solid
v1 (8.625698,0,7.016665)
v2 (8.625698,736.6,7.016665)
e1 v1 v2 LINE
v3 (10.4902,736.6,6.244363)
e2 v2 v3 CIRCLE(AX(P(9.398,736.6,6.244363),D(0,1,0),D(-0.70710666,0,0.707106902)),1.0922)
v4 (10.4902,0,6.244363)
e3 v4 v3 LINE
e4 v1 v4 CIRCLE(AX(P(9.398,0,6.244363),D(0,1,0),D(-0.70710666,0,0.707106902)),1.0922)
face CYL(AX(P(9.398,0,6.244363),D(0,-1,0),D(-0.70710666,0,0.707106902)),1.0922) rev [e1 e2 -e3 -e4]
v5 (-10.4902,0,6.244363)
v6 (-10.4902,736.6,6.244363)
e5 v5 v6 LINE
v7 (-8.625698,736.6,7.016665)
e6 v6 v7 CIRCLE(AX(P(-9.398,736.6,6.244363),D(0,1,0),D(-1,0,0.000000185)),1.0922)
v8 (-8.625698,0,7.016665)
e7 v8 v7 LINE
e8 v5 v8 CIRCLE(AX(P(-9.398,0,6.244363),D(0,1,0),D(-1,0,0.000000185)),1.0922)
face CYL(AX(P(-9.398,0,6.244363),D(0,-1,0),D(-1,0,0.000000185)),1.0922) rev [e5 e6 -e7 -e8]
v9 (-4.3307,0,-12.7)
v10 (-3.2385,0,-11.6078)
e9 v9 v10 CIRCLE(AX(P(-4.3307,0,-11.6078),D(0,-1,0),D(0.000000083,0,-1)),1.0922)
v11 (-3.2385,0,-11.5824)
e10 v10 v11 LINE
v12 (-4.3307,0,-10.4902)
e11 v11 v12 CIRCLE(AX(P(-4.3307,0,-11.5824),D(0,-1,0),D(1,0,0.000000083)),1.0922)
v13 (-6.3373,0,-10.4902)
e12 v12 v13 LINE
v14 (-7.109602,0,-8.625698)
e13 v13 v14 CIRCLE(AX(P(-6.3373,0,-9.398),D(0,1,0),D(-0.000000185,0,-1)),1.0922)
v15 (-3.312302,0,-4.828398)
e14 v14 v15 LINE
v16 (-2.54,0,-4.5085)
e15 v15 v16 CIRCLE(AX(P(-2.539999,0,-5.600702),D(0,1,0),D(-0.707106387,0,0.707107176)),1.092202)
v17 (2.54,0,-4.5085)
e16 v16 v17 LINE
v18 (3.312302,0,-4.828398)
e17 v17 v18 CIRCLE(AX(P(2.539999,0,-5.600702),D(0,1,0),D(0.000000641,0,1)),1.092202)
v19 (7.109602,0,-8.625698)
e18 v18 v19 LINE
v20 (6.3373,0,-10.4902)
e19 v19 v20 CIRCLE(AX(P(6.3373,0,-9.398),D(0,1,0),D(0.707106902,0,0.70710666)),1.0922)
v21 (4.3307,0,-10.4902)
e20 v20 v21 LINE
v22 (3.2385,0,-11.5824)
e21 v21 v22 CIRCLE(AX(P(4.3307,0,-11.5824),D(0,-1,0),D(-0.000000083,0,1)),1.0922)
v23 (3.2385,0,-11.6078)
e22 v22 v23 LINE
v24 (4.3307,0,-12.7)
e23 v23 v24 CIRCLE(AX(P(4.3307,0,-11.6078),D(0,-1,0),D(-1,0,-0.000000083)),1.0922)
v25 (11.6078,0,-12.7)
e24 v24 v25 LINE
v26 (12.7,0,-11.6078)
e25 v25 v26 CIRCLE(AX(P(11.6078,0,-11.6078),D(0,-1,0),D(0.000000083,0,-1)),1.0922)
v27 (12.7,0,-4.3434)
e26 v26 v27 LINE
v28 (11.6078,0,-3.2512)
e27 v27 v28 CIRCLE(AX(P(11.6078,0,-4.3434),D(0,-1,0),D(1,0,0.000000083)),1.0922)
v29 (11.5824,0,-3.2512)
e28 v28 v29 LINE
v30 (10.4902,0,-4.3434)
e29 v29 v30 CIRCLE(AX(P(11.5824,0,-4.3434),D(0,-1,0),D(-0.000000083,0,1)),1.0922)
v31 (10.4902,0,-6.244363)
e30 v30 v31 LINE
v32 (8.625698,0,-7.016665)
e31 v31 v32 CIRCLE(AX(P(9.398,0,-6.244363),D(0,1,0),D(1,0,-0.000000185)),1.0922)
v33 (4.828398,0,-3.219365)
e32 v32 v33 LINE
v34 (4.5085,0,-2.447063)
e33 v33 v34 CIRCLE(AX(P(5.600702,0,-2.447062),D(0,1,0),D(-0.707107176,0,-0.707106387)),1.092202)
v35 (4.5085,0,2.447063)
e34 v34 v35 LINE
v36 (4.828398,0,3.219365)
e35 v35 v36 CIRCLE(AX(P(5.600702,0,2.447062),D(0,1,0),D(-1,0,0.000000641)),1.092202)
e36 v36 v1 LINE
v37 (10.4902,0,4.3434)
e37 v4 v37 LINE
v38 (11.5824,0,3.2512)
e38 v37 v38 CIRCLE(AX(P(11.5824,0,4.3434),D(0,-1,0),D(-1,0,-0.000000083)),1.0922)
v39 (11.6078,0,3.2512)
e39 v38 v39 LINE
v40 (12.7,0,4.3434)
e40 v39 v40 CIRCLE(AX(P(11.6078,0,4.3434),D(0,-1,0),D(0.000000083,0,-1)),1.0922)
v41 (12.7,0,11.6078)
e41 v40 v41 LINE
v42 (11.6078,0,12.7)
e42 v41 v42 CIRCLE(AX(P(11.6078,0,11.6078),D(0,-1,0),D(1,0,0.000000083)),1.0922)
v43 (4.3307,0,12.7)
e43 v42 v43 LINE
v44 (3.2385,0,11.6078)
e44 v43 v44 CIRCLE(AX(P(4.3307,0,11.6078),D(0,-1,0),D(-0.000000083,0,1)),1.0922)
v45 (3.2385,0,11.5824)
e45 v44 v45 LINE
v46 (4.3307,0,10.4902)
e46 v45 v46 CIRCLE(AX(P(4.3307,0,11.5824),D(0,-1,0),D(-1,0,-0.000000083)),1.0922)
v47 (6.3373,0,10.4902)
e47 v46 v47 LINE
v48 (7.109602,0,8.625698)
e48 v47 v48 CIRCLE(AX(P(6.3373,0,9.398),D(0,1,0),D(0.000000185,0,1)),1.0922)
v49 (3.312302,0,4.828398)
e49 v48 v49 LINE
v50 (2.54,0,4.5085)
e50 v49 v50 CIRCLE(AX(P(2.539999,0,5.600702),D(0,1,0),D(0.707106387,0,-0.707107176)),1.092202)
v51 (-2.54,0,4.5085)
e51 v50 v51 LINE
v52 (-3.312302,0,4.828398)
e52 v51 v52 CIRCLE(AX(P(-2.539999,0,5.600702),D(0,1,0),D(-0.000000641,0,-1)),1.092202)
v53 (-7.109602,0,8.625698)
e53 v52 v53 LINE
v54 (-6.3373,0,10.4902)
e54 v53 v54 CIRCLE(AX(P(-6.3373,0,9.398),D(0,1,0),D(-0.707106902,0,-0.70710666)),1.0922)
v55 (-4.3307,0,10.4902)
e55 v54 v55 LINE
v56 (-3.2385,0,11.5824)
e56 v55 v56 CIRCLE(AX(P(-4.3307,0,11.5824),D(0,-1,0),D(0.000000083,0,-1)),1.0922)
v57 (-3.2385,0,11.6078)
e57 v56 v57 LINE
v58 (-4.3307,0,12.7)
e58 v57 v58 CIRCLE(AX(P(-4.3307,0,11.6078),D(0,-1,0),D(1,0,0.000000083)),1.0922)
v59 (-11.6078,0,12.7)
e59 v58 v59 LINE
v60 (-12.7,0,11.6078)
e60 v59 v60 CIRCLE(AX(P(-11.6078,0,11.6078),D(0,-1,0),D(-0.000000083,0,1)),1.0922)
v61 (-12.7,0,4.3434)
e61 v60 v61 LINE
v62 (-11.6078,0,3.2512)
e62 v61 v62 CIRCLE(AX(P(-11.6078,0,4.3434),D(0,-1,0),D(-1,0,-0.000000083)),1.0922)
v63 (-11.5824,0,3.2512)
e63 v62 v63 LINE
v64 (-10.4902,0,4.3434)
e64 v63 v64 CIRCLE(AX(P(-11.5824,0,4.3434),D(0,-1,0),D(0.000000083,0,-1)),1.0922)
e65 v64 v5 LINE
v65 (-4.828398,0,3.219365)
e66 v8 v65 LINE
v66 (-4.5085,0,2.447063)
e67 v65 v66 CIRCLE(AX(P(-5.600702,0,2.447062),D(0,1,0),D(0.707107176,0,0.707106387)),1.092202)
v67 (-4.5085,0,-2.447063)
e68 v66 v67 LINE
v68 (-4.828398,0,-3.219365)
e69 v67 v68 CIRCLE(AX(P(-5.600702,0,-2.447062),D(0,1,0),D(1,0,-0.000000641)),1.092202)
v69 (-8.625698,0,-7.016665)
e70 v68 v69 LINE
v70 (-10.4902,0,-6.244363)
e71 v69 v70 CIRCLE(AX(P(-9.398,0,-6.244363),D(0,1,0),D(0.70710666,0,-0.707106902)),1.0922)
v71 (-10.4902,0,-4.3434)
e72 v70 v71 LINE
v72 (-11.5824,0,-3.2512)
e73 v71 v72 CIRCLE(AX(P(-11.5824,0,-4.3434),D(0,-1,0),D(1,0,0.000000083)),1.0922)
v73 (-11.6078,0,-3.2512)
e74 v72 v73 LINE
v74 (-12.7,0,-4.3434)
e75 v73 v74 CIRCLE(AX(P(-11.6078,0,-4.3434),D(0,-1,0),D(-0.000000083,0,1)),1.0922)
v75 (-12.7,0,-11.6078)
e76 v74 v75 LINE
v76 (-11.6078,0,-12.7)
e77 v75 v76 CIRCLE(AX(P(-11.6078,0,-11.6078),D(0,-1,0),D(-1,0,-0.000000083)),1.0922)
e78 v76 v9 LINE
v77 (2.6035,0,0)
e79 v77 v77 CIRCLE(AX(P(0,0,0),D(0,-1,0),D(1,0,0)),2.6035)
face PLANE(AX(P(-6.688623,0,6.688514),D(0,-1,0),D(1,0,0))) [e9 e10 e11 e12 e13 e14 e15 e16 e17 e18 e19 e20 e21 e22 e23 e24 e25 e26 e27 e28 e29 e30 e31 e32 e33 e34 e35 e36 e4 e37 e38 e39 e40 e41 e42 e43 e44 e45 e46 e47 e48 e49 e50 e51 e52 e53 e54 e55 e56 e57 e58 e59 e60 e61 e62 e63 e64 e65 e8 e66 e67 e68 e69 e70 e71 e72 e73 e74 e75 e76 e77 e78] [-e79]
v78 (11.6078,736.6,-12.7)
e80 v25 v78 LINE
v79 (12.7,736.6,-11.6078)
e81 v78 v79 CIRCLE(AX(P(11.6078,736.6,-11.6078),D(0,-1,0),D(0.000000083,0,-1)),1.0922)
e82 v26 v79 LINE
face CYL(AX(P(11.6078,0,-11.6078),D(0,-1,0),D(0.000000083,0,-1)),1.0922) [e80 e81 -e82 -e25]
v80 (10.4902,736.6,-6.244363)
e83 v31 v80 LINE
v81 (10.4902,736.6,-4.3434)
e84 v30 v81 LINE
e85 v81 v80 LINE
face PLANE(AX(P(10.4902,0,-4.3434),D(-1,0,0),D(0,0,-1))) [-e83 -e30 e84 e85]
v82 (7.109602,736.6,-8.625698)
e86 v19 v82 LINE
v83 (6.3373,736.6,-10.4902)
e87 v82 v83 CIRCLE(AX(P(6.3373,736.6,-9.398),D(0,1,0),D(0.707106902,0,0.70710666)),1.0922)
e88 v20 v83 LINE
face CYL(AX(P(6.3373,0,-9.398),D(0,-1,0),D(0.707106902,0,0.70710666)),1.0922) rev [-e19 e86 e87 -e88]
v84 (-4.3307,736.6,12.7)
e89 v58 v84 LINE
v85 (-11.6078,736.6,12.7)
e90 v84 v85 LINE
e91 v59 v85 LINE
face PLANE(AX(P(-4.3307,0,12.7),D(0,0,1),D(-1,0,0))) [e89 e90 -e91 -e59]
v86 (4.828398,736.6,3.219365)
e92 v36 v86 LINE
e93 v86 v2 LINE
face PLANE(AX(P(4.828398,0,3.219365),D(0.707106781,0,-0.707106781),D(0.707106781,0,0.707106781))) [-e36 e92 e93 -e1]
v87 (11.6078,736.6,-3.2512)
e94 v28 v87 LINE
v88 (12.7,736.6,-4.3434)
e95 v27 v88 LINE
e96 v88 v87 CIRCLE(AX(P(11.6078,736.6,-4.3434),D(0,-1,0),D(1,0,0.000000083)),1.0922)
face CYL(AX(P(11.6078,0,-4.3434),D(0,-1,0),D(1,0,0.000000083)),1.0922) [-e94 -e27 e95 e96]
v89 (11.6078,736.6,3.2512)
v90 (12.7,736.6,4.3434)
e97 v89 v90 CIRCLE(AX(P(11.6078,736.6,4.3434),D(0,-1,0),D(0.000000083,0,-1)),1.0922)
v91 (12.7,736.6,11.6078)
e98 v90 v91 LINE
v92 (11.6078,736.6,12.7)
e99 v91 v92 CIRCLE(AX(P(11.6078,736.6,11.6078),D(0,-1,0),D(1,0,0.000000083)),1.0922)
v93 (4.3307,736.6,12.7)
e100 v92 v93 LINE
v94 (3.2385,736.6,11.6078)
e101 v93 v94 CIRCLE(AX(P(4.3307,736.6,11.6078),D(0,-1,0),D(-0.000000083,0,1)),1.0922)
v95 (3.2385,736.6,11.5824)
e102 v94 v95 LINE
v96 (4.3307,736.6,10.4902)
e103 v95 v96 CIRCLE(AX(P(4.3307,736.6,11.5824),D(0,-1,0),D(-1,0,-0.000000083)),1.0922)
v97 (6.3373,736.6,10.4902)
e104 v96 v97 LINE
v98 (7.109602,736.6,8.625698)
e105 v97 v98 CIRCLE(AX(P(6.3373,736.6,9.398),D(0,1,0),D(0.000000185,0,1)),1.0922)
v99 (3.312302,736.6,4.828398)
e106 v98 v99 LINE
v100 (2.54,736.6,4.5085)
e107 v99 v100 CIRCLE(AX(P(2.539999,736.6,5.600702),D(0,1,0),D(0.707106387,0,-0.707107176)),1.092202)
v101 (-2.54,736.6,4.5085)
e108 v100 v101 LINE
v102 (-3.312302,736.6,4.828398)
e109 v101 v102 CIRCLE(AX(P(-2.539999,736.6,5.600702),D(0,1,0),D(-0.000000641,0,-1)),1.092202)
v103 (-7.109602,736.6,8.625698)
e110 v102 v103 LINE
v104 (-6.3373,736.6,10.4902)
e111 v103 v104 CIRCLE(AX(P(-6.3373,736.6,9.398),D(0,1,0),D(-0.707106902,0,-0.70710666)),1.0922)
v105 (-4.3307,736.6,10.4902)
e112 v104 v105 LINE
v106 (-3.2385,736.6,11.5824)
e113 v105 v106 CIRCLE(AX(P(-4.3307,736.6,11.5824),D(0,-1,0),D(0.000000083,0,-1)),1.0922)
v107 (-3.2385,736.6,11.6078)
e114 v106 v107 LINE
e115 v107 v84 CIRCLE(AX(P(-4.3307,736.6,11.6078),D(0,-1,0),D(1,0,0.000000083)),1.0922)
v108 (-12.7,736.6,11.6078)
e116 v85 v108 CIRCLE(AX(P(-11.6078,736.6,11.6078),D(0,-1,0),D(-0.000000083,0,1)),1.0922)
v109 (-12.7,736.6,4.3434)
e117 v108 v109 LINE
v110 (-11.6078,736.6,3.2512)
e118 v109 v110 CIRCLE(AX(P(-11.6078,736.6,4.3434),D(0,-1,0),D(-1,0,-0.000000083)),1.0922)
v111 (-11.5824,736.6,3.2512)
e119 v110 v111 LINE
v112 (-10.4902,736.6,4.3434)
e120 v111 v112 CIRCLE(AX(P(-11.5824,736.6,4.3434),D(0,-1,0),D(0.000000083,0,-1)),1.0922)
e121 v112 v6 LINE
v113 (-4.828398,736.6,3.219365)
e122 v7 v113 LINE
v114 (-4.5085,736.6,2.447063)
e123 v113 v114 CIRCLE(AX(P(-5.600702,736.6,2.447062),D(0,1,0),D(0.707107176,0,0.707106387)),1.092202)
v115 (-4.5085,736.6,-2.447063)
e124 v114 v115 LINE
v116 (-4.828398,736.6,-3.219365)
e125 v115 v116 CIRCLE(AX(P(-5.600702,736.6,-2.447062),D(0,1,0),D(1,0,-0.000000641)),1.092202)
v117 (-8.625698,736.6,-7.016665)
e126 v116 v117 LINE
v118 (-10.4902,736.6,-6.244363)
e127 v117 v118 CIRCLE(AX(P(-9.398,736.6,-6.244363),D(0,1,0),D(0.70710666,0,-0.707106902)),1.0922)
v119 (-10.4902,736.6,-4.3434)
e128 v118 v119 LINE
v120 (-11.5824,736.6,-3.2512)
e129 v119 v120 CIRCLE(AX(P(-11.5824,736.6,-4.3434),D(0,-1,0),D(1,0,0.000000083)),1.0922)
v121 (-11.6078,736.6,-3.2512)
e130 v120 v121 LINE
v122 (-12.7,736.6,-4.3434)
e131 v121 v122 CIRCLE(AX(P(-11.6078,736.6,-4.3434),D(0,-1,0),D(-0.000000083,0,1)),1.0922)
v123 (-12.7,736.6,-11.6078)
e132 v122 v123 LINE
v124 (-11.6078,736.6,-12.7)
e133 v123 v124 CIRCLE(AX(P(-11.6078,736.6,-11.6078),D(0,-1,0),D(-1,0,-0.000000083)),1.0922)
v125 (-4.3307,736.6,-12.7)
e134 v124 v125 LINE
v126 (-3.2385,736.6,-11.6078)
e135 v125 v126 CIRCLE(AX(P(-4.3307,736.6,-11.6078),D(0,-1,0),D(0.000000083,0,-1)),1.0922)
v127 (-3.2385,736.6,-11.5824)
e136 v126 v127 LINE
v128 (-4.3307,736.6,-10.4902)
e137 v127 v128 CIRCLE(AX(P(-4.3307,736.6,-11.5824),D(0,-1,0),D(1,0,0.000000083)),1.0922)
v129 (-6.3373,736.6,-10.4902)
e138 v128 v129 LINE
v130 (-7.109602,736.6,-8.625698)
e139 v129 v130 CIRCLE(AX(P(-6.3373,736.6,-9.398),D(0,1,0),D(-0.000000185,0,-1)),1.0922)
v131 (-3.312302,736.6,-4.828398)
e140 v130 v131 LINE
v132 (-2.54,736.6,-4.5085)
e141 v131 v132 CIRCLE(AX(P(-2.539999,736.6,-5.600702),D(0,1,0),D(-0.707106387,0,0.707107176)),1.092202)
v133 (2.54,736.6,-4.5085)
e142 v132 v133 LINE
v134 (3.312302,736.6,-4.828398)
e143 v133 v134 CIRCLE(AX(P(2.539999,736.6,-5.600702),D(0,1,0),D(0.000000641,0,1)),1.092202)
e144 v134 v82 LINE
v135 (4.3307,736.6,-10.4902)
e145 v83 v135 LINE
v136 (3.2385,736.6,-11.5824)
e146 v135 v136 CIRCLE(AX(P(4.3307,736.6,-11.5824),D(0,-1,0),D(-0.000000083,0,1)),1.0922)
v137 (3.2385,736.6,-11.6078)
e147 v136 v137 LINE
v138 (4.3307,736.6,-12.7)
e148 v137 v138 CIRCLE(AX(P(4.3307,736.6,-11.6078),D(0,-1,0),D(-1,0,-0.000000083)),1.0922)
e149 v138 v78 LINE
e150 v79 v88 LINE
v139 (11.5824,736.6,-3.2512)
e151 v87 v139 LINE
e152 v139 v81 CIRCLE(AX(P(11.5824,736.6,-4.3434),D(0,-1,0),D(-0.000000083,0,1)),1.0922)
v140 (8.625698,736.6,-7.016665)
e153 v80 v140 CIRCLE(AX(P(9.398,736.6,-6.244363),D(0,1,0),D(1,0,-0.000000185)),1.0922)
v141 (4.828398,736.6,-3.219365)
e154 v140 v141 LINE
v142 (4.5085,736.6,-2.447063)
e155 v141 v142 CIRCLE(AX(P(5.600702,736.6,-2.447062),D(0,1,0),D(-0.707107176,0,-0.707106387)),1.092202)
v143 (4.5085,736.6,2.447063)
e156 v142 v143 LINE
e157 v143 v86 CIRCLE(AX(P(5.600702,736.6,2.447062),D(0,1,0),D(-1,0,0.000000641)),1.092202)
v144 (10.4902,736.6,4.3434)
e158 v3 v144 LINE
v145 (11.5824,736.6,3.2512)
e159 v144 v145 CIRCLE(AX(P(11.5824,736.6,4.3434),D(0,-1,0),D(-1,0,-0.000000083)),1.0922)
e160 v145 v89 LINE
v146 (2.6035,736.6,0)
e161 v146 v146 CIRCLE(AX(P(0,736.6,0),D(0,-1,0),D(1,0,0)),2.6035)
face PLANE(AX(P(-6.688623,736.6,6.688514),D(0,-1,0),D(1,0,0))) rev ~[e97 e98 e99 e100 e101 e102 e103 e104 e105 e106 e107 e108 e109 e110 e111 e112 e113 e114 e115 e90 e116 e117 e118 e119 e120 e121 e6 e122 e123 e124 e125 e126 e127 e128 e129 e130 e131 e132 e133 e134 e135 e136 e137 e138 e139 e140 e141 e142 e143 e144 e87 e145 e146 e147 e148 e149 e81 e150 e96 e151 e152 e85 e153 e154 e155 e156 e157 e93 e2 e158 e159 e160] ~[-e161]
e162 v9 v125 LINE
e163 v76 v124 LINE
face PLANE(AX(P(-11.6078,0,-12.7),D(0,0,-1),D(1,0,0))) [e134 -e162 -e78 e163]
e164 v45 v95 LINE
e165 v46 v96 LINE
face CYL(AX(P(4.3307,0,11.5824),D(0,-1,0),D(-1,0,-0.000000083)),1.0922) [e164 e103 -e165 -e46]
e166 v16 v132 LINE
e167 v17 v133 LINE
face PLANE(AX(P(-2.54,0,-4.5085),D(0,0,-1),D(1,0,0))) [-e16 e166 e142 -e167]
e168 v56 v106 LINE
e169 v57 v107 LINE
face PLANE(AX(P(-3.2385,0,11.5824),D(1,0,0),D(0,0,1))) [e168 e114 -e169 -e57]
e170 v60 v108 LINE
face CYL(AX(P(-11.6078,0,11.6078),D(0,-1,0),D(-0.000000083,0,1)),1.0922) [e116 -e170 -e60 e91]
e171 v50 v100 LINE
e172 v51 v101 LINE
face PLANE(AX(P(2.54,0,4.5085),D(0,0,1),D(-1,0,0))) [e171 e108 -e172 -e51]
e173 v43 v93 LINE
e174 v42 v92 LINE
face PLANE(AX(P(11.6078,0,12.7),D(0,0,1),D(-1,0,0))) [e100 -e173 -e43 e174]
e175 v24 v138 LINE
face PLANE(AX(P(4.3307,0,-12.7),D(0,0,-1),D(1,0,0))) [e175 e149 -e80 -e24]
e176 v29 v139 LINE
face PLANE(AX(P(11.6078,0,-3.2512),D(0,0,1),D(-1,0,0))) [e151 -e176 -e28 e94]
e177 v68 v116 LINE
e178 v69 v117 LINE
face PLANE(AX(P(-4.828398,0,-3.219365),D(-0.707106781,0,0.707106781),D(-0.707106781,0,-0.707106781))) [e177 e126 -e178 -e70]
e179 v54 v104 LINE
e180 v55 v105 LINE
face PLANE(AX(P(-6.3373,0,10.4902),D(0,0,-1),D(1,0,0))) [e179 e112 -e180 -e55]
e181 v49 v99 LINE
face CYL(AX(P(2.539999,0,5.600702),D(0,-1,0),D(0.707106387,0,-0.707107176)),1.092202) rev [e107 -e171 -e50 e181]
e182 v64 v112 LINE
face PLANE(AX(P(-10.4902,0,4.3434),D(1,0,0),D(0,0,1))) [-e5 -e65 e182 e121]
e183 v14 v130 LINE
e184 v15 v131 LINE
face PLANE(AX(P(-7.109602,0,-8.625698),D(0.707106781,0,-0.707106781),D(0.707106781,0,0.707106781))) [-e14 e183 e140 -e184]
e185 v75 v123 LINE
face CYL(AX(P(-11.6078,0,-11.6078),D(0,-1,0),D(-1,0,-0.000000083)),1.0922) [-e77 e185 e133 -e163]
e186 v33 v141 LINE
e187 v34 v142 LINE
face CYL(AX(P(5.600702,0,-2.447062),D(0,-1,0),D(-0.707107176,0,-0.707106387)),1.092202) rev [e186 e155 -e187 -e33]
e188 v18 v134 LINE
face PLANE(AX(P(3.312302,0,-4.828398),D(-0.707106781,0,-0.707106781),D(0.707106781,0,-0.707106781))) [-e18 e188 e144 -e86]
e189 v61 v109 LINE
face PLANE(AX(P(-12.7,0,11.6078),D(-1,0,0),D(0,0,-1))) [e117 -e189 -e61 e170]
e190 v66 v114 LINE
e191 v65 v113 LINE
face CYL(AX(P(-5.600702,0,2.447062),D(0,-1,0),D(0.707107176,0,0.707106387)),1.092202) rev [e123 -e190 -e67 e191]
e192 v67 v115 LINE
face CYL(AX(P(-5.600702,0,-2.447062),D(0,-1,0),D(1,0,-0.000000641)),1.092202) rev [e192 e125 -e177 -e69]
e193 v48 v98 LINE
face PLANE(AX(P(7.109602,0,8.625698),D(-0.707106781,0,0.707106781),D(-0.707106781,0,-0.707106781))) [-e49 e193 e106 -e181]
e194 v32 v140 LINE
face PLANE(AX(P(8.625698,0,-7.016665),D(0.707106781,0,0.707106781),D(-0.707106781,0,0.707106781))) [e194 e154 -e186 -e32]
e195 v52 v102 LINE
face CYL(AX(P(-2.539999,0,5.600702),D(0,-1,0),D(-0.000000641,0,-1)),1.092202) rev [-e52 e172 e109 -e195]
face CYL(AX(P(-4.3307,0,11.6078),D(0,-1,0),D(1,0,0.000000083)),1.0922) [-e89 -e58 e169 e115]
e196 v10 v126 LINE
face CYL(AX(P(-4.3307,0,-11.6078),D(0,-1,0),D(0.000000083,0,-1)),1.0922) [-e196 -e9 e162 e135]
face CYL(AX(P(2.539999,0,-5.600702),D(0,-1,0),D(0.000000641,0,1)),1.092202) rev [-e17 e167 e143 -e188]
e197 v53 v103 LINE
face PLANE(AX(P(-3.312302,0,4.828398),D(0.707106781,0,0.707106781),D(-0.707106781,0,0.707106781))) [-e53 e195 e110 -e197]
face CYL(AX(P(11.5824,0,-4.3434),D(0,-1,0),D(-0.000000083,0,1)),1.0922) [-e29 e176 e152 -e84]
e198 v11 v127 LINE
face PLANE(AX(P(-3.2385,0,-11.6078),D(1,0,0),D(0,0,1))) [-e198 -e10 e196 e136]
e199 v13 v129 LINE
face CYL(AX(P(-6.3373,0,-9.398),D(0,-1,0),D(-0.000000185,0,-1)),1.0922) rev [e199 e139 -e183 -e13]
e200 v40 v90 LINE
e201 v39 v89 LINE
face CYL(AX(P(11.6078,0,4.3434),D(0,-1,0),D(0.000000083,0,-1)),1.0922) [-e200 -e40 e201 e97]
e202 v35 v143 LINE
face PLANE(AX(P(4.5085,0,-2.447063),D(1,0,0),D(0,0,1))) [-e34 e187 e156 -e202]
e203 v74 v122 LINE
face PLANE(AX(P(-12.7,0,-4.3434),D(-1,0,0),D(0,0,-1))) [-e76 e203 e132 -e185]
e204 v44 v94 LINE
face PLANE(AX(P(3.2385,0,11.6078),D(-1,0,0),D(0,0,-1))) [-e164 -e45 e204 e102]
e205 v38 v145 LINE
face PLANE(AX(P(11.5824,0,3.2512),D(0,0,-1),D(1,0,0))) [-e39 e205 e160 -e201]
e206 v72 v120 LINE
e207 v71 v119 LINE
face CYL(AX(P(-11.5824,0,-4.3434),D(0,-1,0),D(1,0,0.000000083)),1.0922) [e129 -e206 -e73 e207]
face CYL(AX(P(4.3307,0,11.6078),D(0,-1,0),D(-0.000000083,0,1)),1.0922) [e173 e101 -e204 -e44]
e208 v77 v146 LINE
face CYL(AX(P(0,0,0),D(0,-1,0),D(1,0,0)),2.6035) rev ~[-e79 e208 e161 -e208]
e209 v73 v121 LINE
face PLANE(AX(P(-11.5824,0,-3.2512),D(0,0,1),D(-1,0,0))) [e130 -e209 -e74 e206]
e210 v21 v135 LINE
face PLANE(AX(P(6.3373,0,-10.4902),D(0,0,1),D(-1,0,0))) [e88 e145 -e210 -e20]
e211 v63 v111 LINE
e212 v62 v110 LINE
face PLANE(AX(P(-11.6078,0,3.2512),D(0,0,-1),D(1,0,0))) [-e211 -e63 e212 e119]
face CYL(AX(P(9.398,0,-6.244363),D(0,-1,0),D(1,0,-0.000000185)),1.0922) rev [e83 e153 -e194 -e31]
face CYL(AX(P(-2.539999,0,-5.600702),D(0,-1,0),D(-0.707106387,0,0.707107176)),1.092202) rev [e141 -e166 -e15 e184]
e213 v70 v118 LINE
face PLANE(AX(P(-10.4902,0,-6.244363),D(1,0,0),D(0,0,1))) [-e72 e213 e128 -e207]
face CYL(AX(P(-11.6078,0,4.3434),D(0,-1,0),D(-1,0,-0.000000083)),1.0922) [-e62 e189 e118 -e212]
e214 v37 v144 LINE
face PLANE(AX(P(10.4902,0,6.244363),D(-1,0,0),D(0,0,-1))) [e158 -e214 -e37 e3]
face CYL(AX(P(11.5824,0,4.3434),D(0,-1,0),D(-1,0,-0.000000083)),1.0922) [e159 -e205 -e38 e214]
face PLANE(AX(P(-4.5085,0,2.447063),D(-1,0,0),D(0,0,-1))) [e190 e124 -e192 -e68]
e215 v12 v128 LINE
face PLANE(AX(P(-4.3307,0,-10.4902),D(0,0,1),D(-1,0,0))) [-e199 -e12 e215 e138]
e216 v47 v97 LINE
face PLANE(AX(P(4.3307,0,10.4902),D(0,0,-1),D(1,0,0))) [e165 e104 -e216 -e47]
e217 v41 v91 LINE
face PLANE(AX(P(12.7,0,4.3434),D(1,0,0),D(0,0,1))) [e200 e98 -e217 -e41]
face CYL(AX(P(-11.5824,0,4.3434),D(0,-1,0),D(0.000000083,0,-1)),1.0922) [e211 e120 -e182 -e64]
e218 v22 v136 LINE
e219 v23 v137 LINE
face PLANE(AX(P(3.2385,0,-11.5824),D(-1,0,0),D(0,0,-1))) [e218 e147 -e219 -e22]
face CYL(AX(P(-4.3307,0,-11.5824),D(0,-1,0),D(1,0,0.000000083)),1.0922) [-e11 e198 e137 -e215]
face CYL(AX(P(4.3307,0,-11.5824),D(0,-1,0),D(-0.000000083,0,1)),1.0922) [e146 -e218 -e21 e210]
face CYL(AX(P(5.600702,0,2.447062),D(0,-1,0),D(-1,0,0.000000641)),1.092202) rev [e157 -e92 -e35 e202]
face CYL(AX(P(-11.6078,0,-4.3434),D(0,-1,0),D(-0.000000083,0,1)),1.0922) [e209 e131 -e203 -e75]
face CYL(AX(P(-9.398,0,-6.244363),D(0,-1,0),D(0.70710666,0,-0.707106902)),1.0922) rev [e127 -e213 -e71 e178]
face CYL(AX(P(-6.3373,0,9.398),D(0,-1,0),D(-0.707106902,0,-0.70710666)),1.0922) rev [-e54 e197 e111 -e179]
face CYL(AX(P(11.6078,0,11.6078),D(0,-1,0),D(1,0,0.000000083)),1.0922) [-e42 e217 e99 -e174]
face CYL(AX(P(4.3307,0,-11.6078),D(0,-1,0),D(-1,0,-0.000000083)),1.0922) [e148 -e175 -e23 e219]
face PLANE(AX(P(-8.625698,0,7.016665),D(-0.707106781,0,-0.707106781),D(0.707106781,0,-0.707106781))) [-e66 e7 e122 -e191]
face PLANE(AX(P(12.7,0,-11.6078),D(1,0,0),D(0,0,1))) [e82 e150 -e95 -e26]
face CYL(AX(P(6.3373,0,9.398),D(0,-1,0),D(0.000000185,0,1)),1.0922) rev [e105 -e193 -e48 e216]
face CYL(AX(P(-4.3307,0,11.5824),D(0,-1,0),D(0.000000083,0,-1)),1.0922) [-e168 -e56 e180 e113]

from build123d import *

# Parameters (mm, degrees)
F1_DEPTH = 736.6
F2_R     = 2.6035
F3_DEPTH = 736.601


with BuildPart() as f1:
    # F0 (on Front) → F1 (new body)
    with BuildSketch(Plane.XZ):
        with BuildLine():
            Line((-4.5085, 0), (0, 0))
            Line((0, 0), (0, 4.5085))
            Line((0, 4.5085), (-2.54, 4.5085))
            ThreePointArc((-2.54, 4.5085), (-2.957967, 4.591639), (-3.312302, 4.828398))
            Line((-3.312302, 4.828398), (-7.109602, 8.625698))
            ThreePointArc((-7.109602, 8.625698), (-7.346361, 9.815967), (-6.3373, 10.4902))
            Line((-6.3373, 10.4902), (-4.3307, 10.4902))
            ThreePointArc((-4.3307, 10.4902), (-3.558398, 10.810098), (-3.2385, 11.5824))
            Line((-3.2385, 11.5824), (-3.2385, 11.6078))
            ThreePointArc((-3.2385, 11.6078), (-3.558398, 12.380102), (-4.3307, 12.7))
            Line((-4.3307, 12.7), (-11.6078, 12.7))
            ThreePointArc((-11.6078, 12.7), (-12.380102, 12.380102), (-12.7, 11.6078))
            Line((-12.7, 11.6078), (-12.7, 4.3434))
            ThreePointArc((-12.7, 4.3434), (-12.380102, 3.571098), (-11.6078, 3.2512))
            Line((-11.6078, 3.2512), (-11.5824, 3.2512))
            ThreePointArc((-11.5824, 3.2512), (-10.810098, 3.571098), (-10.4902, 4.3434))
            Line((-10.4902, 4.3434), (-10.4902, 6.244363))
            ThreePointArc((-10.4902, 6.244363), (-9.815967, 7.253424), (-8.625698, 7.016665))
            Line((-8.625698, 7.016665), (-4.828398, 3.219365))
            ThreePointArc((-4.828398, 3.219365), (-4.591639, 2.86503), (-4.5085, 2.447063))
            Line((-4.5085, 2.447063), (-4.5085, 0))
        make_face()
        with BuildLine():
            Line((0, 4.5085), (0, 0))
            Line((0, 0), (4.5085, 0))
            Line((4.5085, 0), (4.5085, 2.447063))
            ThreePointArc((4.5085, 2.447063), (4.591639, 2.86503), (4.828398, 3.219365))
            Line((4.828398, 3.219365), (8.625698, 7.016665))
            ThreePointArc((8.625698, 7.016665), (9.815967, 7.253424), (10.4902, 6.244363))
            Line((10.4902, 6.244363), (10.4902, 4.3434))
            ThreePointArc((10.4902, 4.3434), (10.810098, 3.571098), (11.5824, 3.2512))
            Line((11.5824, 3.2512), (11.6078, 3.2512))
            ThreePointArc((11.6078, 3.2512), (12.380102, 3.571098), (12.7, 4.3434))
            Line((12.7, 4.3434), (12.7, 11.6078))
            ThreePointArc((12.7, 11.6078), (12.380102, 12.380102), (11.6078, 12.7))
            Line((11.6078, 12.7), (4.3307, 12.7))
            ThreePointArc((4.3307, 12.7), (3.558398, 12.380102), (3.2385, 11.6078))
            Line((3.2385, 11.6078), (3.2385, 11.5824))
            ThreePointArc((3.2385, 11.5824), (3.558398, 10.810098), (4.3307, 10.4902))
            Line((4.3307, 10.4902), (6.3373, 10.4902))
            ThreePointArc((6.3373, 10.4902), (7.346361, 9.815967), (7.109602, 8.625698))
            Line((7.109602, 8.625698), (3.312302, 4.828398))
            ThreePointArc((3.312302, 4.828398), (2.957967, 4.591639), (2.54, 4.5085))
            Line((2.54, 4.5085), (0, 4.5085))
        make_face()
        with BuildLine():
            Line((4.5085, 0), (0, 0))
            Line((0, 0), (0, -4.5085))
            Line((0, -4.5085), (2.54, -4.5085))
            ThreePointArc((2.54, -4.5085), (2.957967, -4.591639), (3.312302, -4.828398))
            Line((3.312302, -4.828398), (7.109602, -8.625698))
            ThreePointArc((7.109602, -8.625698), (7.346361, -9.815967), (6.3373, -10.4902))
            Line((6.3373, -10.4902), (4.3307, -10.4902))
            ThreePointArc((4.3307, -10.4902), (3.558398, -10.810098), (3.2385, -11.5824))
            Line((3.2385, -11.5824), (3.2385, -11.6078))
            ThreePointArc((3.2385, -11.6078), (3.558398, -12.380102), (4.3307, -12.7))
            Line((4.3307, -12.7), (11.6078, -12.7))
            ThreePointArc((11.6078, -12.7), (12.380102, -12.380102), (12.7, -11.6078))
            Line((12.7, -11.6078), (12.7, -4.3434))
            ThreePointArc((12.7, -4.3434), (12.380102, -3.571098), (11.6078, -3.2512))
            Line((11.6078, -3.2512), (11.5824, -3.2512))
            ThreePointArc((11.5824, -3.2512), (10.810098, -3.571098), (10.4902, -4.3434))
            Line((10.4902, -4.3434), (10.4902, -6.244363))
            ThreePointArc((10.4902, -6.244363), (9.815967, -7.253424), (8.625698, -7.016665))
            Line((8.625698, -7.016665), (4.828398, -3.219365))
            ThreePointArc((4.828398, -3.219365), (4.591639, -2.86503), (4.5085, -2.447063))
            Line((4.5085, -2.447063), (4.5085, 0))
        make_face()
        with BuildLine():
            Line((0, -4.5085), (0, 0))
            Line((0, 0), (-4.5085, 0))
            Line((-4.5085, 0), (-4.5085, -2.447063))
            ThreePointArc((-4.5085, -2.447063), (-4.591639, -2.86503), (-4.828398, -3.219365))
            Line((-4.828398, -3.219365), (-8.625698, -7.016665))
            ThreePointArc((-8.625698, -7.016665), (-9.815967, -7.253424), (-10.4902, -6.244363))
            Line((-10.4902, -6.244363), (-10.4902, -4.3434))
            ThreePointArc((-10.4902, -4.3434), (-10.810098, -3.571098), (-11.5824, -3.2512))
            Line((-11.5824, -3.2512), (-11.6078, -3.2512))
            ThreePointArc((-11.6078, -3.2512), (-12.380102, -3.571098), (-12.7, -4.3434))
            Line((-12.7, -4.3434), (-12.7, -11.6078))
            ThreePointArc((-12.7, -11.6078), (-12.380102, -12.380102), (-11.6078, -12.7))
            Line((-11.6078, -12.7), (-4.3307, -12.7))
            ThreePointArc((-4.3307, -12.7), (-3.558398, -12.380102), (-3.2385, -11.6078))
            Line((-3.2385, -11.6078), (-3.2385, -11.5824))
            ThreePointArc((-3.2385, -11.5824), (-3.558398, -10.810098), (-4.3307, -10.4902))
            Line((-4.3307, -10.4902), (-6.3373, -10.4902))
            ThreePointArc((-6.3373, -10.4902), (-7.346361, -9.815967), (-7.109602, -8.625698))
            Line((-7.109602, -8.625698), (-3.312302, -4.828398))
            ThreePointArc((-3.312302, -4.828398), (-2.957967, -4.591639), (-2.54, -4.5085))
            Line((-2.54, -4.5085), (0, -4.5085))
        make_face()
    extrude(amount=-F1_DEPTH)

    # F2 (on face) → F3 (cut, through all)
    with BuildSketch(Plane.XZ):
        Circle(F2_R)
    extrude(amount=-F3_DEPTH, mode=Mode.SUBTRACT)


solid = f1.part
